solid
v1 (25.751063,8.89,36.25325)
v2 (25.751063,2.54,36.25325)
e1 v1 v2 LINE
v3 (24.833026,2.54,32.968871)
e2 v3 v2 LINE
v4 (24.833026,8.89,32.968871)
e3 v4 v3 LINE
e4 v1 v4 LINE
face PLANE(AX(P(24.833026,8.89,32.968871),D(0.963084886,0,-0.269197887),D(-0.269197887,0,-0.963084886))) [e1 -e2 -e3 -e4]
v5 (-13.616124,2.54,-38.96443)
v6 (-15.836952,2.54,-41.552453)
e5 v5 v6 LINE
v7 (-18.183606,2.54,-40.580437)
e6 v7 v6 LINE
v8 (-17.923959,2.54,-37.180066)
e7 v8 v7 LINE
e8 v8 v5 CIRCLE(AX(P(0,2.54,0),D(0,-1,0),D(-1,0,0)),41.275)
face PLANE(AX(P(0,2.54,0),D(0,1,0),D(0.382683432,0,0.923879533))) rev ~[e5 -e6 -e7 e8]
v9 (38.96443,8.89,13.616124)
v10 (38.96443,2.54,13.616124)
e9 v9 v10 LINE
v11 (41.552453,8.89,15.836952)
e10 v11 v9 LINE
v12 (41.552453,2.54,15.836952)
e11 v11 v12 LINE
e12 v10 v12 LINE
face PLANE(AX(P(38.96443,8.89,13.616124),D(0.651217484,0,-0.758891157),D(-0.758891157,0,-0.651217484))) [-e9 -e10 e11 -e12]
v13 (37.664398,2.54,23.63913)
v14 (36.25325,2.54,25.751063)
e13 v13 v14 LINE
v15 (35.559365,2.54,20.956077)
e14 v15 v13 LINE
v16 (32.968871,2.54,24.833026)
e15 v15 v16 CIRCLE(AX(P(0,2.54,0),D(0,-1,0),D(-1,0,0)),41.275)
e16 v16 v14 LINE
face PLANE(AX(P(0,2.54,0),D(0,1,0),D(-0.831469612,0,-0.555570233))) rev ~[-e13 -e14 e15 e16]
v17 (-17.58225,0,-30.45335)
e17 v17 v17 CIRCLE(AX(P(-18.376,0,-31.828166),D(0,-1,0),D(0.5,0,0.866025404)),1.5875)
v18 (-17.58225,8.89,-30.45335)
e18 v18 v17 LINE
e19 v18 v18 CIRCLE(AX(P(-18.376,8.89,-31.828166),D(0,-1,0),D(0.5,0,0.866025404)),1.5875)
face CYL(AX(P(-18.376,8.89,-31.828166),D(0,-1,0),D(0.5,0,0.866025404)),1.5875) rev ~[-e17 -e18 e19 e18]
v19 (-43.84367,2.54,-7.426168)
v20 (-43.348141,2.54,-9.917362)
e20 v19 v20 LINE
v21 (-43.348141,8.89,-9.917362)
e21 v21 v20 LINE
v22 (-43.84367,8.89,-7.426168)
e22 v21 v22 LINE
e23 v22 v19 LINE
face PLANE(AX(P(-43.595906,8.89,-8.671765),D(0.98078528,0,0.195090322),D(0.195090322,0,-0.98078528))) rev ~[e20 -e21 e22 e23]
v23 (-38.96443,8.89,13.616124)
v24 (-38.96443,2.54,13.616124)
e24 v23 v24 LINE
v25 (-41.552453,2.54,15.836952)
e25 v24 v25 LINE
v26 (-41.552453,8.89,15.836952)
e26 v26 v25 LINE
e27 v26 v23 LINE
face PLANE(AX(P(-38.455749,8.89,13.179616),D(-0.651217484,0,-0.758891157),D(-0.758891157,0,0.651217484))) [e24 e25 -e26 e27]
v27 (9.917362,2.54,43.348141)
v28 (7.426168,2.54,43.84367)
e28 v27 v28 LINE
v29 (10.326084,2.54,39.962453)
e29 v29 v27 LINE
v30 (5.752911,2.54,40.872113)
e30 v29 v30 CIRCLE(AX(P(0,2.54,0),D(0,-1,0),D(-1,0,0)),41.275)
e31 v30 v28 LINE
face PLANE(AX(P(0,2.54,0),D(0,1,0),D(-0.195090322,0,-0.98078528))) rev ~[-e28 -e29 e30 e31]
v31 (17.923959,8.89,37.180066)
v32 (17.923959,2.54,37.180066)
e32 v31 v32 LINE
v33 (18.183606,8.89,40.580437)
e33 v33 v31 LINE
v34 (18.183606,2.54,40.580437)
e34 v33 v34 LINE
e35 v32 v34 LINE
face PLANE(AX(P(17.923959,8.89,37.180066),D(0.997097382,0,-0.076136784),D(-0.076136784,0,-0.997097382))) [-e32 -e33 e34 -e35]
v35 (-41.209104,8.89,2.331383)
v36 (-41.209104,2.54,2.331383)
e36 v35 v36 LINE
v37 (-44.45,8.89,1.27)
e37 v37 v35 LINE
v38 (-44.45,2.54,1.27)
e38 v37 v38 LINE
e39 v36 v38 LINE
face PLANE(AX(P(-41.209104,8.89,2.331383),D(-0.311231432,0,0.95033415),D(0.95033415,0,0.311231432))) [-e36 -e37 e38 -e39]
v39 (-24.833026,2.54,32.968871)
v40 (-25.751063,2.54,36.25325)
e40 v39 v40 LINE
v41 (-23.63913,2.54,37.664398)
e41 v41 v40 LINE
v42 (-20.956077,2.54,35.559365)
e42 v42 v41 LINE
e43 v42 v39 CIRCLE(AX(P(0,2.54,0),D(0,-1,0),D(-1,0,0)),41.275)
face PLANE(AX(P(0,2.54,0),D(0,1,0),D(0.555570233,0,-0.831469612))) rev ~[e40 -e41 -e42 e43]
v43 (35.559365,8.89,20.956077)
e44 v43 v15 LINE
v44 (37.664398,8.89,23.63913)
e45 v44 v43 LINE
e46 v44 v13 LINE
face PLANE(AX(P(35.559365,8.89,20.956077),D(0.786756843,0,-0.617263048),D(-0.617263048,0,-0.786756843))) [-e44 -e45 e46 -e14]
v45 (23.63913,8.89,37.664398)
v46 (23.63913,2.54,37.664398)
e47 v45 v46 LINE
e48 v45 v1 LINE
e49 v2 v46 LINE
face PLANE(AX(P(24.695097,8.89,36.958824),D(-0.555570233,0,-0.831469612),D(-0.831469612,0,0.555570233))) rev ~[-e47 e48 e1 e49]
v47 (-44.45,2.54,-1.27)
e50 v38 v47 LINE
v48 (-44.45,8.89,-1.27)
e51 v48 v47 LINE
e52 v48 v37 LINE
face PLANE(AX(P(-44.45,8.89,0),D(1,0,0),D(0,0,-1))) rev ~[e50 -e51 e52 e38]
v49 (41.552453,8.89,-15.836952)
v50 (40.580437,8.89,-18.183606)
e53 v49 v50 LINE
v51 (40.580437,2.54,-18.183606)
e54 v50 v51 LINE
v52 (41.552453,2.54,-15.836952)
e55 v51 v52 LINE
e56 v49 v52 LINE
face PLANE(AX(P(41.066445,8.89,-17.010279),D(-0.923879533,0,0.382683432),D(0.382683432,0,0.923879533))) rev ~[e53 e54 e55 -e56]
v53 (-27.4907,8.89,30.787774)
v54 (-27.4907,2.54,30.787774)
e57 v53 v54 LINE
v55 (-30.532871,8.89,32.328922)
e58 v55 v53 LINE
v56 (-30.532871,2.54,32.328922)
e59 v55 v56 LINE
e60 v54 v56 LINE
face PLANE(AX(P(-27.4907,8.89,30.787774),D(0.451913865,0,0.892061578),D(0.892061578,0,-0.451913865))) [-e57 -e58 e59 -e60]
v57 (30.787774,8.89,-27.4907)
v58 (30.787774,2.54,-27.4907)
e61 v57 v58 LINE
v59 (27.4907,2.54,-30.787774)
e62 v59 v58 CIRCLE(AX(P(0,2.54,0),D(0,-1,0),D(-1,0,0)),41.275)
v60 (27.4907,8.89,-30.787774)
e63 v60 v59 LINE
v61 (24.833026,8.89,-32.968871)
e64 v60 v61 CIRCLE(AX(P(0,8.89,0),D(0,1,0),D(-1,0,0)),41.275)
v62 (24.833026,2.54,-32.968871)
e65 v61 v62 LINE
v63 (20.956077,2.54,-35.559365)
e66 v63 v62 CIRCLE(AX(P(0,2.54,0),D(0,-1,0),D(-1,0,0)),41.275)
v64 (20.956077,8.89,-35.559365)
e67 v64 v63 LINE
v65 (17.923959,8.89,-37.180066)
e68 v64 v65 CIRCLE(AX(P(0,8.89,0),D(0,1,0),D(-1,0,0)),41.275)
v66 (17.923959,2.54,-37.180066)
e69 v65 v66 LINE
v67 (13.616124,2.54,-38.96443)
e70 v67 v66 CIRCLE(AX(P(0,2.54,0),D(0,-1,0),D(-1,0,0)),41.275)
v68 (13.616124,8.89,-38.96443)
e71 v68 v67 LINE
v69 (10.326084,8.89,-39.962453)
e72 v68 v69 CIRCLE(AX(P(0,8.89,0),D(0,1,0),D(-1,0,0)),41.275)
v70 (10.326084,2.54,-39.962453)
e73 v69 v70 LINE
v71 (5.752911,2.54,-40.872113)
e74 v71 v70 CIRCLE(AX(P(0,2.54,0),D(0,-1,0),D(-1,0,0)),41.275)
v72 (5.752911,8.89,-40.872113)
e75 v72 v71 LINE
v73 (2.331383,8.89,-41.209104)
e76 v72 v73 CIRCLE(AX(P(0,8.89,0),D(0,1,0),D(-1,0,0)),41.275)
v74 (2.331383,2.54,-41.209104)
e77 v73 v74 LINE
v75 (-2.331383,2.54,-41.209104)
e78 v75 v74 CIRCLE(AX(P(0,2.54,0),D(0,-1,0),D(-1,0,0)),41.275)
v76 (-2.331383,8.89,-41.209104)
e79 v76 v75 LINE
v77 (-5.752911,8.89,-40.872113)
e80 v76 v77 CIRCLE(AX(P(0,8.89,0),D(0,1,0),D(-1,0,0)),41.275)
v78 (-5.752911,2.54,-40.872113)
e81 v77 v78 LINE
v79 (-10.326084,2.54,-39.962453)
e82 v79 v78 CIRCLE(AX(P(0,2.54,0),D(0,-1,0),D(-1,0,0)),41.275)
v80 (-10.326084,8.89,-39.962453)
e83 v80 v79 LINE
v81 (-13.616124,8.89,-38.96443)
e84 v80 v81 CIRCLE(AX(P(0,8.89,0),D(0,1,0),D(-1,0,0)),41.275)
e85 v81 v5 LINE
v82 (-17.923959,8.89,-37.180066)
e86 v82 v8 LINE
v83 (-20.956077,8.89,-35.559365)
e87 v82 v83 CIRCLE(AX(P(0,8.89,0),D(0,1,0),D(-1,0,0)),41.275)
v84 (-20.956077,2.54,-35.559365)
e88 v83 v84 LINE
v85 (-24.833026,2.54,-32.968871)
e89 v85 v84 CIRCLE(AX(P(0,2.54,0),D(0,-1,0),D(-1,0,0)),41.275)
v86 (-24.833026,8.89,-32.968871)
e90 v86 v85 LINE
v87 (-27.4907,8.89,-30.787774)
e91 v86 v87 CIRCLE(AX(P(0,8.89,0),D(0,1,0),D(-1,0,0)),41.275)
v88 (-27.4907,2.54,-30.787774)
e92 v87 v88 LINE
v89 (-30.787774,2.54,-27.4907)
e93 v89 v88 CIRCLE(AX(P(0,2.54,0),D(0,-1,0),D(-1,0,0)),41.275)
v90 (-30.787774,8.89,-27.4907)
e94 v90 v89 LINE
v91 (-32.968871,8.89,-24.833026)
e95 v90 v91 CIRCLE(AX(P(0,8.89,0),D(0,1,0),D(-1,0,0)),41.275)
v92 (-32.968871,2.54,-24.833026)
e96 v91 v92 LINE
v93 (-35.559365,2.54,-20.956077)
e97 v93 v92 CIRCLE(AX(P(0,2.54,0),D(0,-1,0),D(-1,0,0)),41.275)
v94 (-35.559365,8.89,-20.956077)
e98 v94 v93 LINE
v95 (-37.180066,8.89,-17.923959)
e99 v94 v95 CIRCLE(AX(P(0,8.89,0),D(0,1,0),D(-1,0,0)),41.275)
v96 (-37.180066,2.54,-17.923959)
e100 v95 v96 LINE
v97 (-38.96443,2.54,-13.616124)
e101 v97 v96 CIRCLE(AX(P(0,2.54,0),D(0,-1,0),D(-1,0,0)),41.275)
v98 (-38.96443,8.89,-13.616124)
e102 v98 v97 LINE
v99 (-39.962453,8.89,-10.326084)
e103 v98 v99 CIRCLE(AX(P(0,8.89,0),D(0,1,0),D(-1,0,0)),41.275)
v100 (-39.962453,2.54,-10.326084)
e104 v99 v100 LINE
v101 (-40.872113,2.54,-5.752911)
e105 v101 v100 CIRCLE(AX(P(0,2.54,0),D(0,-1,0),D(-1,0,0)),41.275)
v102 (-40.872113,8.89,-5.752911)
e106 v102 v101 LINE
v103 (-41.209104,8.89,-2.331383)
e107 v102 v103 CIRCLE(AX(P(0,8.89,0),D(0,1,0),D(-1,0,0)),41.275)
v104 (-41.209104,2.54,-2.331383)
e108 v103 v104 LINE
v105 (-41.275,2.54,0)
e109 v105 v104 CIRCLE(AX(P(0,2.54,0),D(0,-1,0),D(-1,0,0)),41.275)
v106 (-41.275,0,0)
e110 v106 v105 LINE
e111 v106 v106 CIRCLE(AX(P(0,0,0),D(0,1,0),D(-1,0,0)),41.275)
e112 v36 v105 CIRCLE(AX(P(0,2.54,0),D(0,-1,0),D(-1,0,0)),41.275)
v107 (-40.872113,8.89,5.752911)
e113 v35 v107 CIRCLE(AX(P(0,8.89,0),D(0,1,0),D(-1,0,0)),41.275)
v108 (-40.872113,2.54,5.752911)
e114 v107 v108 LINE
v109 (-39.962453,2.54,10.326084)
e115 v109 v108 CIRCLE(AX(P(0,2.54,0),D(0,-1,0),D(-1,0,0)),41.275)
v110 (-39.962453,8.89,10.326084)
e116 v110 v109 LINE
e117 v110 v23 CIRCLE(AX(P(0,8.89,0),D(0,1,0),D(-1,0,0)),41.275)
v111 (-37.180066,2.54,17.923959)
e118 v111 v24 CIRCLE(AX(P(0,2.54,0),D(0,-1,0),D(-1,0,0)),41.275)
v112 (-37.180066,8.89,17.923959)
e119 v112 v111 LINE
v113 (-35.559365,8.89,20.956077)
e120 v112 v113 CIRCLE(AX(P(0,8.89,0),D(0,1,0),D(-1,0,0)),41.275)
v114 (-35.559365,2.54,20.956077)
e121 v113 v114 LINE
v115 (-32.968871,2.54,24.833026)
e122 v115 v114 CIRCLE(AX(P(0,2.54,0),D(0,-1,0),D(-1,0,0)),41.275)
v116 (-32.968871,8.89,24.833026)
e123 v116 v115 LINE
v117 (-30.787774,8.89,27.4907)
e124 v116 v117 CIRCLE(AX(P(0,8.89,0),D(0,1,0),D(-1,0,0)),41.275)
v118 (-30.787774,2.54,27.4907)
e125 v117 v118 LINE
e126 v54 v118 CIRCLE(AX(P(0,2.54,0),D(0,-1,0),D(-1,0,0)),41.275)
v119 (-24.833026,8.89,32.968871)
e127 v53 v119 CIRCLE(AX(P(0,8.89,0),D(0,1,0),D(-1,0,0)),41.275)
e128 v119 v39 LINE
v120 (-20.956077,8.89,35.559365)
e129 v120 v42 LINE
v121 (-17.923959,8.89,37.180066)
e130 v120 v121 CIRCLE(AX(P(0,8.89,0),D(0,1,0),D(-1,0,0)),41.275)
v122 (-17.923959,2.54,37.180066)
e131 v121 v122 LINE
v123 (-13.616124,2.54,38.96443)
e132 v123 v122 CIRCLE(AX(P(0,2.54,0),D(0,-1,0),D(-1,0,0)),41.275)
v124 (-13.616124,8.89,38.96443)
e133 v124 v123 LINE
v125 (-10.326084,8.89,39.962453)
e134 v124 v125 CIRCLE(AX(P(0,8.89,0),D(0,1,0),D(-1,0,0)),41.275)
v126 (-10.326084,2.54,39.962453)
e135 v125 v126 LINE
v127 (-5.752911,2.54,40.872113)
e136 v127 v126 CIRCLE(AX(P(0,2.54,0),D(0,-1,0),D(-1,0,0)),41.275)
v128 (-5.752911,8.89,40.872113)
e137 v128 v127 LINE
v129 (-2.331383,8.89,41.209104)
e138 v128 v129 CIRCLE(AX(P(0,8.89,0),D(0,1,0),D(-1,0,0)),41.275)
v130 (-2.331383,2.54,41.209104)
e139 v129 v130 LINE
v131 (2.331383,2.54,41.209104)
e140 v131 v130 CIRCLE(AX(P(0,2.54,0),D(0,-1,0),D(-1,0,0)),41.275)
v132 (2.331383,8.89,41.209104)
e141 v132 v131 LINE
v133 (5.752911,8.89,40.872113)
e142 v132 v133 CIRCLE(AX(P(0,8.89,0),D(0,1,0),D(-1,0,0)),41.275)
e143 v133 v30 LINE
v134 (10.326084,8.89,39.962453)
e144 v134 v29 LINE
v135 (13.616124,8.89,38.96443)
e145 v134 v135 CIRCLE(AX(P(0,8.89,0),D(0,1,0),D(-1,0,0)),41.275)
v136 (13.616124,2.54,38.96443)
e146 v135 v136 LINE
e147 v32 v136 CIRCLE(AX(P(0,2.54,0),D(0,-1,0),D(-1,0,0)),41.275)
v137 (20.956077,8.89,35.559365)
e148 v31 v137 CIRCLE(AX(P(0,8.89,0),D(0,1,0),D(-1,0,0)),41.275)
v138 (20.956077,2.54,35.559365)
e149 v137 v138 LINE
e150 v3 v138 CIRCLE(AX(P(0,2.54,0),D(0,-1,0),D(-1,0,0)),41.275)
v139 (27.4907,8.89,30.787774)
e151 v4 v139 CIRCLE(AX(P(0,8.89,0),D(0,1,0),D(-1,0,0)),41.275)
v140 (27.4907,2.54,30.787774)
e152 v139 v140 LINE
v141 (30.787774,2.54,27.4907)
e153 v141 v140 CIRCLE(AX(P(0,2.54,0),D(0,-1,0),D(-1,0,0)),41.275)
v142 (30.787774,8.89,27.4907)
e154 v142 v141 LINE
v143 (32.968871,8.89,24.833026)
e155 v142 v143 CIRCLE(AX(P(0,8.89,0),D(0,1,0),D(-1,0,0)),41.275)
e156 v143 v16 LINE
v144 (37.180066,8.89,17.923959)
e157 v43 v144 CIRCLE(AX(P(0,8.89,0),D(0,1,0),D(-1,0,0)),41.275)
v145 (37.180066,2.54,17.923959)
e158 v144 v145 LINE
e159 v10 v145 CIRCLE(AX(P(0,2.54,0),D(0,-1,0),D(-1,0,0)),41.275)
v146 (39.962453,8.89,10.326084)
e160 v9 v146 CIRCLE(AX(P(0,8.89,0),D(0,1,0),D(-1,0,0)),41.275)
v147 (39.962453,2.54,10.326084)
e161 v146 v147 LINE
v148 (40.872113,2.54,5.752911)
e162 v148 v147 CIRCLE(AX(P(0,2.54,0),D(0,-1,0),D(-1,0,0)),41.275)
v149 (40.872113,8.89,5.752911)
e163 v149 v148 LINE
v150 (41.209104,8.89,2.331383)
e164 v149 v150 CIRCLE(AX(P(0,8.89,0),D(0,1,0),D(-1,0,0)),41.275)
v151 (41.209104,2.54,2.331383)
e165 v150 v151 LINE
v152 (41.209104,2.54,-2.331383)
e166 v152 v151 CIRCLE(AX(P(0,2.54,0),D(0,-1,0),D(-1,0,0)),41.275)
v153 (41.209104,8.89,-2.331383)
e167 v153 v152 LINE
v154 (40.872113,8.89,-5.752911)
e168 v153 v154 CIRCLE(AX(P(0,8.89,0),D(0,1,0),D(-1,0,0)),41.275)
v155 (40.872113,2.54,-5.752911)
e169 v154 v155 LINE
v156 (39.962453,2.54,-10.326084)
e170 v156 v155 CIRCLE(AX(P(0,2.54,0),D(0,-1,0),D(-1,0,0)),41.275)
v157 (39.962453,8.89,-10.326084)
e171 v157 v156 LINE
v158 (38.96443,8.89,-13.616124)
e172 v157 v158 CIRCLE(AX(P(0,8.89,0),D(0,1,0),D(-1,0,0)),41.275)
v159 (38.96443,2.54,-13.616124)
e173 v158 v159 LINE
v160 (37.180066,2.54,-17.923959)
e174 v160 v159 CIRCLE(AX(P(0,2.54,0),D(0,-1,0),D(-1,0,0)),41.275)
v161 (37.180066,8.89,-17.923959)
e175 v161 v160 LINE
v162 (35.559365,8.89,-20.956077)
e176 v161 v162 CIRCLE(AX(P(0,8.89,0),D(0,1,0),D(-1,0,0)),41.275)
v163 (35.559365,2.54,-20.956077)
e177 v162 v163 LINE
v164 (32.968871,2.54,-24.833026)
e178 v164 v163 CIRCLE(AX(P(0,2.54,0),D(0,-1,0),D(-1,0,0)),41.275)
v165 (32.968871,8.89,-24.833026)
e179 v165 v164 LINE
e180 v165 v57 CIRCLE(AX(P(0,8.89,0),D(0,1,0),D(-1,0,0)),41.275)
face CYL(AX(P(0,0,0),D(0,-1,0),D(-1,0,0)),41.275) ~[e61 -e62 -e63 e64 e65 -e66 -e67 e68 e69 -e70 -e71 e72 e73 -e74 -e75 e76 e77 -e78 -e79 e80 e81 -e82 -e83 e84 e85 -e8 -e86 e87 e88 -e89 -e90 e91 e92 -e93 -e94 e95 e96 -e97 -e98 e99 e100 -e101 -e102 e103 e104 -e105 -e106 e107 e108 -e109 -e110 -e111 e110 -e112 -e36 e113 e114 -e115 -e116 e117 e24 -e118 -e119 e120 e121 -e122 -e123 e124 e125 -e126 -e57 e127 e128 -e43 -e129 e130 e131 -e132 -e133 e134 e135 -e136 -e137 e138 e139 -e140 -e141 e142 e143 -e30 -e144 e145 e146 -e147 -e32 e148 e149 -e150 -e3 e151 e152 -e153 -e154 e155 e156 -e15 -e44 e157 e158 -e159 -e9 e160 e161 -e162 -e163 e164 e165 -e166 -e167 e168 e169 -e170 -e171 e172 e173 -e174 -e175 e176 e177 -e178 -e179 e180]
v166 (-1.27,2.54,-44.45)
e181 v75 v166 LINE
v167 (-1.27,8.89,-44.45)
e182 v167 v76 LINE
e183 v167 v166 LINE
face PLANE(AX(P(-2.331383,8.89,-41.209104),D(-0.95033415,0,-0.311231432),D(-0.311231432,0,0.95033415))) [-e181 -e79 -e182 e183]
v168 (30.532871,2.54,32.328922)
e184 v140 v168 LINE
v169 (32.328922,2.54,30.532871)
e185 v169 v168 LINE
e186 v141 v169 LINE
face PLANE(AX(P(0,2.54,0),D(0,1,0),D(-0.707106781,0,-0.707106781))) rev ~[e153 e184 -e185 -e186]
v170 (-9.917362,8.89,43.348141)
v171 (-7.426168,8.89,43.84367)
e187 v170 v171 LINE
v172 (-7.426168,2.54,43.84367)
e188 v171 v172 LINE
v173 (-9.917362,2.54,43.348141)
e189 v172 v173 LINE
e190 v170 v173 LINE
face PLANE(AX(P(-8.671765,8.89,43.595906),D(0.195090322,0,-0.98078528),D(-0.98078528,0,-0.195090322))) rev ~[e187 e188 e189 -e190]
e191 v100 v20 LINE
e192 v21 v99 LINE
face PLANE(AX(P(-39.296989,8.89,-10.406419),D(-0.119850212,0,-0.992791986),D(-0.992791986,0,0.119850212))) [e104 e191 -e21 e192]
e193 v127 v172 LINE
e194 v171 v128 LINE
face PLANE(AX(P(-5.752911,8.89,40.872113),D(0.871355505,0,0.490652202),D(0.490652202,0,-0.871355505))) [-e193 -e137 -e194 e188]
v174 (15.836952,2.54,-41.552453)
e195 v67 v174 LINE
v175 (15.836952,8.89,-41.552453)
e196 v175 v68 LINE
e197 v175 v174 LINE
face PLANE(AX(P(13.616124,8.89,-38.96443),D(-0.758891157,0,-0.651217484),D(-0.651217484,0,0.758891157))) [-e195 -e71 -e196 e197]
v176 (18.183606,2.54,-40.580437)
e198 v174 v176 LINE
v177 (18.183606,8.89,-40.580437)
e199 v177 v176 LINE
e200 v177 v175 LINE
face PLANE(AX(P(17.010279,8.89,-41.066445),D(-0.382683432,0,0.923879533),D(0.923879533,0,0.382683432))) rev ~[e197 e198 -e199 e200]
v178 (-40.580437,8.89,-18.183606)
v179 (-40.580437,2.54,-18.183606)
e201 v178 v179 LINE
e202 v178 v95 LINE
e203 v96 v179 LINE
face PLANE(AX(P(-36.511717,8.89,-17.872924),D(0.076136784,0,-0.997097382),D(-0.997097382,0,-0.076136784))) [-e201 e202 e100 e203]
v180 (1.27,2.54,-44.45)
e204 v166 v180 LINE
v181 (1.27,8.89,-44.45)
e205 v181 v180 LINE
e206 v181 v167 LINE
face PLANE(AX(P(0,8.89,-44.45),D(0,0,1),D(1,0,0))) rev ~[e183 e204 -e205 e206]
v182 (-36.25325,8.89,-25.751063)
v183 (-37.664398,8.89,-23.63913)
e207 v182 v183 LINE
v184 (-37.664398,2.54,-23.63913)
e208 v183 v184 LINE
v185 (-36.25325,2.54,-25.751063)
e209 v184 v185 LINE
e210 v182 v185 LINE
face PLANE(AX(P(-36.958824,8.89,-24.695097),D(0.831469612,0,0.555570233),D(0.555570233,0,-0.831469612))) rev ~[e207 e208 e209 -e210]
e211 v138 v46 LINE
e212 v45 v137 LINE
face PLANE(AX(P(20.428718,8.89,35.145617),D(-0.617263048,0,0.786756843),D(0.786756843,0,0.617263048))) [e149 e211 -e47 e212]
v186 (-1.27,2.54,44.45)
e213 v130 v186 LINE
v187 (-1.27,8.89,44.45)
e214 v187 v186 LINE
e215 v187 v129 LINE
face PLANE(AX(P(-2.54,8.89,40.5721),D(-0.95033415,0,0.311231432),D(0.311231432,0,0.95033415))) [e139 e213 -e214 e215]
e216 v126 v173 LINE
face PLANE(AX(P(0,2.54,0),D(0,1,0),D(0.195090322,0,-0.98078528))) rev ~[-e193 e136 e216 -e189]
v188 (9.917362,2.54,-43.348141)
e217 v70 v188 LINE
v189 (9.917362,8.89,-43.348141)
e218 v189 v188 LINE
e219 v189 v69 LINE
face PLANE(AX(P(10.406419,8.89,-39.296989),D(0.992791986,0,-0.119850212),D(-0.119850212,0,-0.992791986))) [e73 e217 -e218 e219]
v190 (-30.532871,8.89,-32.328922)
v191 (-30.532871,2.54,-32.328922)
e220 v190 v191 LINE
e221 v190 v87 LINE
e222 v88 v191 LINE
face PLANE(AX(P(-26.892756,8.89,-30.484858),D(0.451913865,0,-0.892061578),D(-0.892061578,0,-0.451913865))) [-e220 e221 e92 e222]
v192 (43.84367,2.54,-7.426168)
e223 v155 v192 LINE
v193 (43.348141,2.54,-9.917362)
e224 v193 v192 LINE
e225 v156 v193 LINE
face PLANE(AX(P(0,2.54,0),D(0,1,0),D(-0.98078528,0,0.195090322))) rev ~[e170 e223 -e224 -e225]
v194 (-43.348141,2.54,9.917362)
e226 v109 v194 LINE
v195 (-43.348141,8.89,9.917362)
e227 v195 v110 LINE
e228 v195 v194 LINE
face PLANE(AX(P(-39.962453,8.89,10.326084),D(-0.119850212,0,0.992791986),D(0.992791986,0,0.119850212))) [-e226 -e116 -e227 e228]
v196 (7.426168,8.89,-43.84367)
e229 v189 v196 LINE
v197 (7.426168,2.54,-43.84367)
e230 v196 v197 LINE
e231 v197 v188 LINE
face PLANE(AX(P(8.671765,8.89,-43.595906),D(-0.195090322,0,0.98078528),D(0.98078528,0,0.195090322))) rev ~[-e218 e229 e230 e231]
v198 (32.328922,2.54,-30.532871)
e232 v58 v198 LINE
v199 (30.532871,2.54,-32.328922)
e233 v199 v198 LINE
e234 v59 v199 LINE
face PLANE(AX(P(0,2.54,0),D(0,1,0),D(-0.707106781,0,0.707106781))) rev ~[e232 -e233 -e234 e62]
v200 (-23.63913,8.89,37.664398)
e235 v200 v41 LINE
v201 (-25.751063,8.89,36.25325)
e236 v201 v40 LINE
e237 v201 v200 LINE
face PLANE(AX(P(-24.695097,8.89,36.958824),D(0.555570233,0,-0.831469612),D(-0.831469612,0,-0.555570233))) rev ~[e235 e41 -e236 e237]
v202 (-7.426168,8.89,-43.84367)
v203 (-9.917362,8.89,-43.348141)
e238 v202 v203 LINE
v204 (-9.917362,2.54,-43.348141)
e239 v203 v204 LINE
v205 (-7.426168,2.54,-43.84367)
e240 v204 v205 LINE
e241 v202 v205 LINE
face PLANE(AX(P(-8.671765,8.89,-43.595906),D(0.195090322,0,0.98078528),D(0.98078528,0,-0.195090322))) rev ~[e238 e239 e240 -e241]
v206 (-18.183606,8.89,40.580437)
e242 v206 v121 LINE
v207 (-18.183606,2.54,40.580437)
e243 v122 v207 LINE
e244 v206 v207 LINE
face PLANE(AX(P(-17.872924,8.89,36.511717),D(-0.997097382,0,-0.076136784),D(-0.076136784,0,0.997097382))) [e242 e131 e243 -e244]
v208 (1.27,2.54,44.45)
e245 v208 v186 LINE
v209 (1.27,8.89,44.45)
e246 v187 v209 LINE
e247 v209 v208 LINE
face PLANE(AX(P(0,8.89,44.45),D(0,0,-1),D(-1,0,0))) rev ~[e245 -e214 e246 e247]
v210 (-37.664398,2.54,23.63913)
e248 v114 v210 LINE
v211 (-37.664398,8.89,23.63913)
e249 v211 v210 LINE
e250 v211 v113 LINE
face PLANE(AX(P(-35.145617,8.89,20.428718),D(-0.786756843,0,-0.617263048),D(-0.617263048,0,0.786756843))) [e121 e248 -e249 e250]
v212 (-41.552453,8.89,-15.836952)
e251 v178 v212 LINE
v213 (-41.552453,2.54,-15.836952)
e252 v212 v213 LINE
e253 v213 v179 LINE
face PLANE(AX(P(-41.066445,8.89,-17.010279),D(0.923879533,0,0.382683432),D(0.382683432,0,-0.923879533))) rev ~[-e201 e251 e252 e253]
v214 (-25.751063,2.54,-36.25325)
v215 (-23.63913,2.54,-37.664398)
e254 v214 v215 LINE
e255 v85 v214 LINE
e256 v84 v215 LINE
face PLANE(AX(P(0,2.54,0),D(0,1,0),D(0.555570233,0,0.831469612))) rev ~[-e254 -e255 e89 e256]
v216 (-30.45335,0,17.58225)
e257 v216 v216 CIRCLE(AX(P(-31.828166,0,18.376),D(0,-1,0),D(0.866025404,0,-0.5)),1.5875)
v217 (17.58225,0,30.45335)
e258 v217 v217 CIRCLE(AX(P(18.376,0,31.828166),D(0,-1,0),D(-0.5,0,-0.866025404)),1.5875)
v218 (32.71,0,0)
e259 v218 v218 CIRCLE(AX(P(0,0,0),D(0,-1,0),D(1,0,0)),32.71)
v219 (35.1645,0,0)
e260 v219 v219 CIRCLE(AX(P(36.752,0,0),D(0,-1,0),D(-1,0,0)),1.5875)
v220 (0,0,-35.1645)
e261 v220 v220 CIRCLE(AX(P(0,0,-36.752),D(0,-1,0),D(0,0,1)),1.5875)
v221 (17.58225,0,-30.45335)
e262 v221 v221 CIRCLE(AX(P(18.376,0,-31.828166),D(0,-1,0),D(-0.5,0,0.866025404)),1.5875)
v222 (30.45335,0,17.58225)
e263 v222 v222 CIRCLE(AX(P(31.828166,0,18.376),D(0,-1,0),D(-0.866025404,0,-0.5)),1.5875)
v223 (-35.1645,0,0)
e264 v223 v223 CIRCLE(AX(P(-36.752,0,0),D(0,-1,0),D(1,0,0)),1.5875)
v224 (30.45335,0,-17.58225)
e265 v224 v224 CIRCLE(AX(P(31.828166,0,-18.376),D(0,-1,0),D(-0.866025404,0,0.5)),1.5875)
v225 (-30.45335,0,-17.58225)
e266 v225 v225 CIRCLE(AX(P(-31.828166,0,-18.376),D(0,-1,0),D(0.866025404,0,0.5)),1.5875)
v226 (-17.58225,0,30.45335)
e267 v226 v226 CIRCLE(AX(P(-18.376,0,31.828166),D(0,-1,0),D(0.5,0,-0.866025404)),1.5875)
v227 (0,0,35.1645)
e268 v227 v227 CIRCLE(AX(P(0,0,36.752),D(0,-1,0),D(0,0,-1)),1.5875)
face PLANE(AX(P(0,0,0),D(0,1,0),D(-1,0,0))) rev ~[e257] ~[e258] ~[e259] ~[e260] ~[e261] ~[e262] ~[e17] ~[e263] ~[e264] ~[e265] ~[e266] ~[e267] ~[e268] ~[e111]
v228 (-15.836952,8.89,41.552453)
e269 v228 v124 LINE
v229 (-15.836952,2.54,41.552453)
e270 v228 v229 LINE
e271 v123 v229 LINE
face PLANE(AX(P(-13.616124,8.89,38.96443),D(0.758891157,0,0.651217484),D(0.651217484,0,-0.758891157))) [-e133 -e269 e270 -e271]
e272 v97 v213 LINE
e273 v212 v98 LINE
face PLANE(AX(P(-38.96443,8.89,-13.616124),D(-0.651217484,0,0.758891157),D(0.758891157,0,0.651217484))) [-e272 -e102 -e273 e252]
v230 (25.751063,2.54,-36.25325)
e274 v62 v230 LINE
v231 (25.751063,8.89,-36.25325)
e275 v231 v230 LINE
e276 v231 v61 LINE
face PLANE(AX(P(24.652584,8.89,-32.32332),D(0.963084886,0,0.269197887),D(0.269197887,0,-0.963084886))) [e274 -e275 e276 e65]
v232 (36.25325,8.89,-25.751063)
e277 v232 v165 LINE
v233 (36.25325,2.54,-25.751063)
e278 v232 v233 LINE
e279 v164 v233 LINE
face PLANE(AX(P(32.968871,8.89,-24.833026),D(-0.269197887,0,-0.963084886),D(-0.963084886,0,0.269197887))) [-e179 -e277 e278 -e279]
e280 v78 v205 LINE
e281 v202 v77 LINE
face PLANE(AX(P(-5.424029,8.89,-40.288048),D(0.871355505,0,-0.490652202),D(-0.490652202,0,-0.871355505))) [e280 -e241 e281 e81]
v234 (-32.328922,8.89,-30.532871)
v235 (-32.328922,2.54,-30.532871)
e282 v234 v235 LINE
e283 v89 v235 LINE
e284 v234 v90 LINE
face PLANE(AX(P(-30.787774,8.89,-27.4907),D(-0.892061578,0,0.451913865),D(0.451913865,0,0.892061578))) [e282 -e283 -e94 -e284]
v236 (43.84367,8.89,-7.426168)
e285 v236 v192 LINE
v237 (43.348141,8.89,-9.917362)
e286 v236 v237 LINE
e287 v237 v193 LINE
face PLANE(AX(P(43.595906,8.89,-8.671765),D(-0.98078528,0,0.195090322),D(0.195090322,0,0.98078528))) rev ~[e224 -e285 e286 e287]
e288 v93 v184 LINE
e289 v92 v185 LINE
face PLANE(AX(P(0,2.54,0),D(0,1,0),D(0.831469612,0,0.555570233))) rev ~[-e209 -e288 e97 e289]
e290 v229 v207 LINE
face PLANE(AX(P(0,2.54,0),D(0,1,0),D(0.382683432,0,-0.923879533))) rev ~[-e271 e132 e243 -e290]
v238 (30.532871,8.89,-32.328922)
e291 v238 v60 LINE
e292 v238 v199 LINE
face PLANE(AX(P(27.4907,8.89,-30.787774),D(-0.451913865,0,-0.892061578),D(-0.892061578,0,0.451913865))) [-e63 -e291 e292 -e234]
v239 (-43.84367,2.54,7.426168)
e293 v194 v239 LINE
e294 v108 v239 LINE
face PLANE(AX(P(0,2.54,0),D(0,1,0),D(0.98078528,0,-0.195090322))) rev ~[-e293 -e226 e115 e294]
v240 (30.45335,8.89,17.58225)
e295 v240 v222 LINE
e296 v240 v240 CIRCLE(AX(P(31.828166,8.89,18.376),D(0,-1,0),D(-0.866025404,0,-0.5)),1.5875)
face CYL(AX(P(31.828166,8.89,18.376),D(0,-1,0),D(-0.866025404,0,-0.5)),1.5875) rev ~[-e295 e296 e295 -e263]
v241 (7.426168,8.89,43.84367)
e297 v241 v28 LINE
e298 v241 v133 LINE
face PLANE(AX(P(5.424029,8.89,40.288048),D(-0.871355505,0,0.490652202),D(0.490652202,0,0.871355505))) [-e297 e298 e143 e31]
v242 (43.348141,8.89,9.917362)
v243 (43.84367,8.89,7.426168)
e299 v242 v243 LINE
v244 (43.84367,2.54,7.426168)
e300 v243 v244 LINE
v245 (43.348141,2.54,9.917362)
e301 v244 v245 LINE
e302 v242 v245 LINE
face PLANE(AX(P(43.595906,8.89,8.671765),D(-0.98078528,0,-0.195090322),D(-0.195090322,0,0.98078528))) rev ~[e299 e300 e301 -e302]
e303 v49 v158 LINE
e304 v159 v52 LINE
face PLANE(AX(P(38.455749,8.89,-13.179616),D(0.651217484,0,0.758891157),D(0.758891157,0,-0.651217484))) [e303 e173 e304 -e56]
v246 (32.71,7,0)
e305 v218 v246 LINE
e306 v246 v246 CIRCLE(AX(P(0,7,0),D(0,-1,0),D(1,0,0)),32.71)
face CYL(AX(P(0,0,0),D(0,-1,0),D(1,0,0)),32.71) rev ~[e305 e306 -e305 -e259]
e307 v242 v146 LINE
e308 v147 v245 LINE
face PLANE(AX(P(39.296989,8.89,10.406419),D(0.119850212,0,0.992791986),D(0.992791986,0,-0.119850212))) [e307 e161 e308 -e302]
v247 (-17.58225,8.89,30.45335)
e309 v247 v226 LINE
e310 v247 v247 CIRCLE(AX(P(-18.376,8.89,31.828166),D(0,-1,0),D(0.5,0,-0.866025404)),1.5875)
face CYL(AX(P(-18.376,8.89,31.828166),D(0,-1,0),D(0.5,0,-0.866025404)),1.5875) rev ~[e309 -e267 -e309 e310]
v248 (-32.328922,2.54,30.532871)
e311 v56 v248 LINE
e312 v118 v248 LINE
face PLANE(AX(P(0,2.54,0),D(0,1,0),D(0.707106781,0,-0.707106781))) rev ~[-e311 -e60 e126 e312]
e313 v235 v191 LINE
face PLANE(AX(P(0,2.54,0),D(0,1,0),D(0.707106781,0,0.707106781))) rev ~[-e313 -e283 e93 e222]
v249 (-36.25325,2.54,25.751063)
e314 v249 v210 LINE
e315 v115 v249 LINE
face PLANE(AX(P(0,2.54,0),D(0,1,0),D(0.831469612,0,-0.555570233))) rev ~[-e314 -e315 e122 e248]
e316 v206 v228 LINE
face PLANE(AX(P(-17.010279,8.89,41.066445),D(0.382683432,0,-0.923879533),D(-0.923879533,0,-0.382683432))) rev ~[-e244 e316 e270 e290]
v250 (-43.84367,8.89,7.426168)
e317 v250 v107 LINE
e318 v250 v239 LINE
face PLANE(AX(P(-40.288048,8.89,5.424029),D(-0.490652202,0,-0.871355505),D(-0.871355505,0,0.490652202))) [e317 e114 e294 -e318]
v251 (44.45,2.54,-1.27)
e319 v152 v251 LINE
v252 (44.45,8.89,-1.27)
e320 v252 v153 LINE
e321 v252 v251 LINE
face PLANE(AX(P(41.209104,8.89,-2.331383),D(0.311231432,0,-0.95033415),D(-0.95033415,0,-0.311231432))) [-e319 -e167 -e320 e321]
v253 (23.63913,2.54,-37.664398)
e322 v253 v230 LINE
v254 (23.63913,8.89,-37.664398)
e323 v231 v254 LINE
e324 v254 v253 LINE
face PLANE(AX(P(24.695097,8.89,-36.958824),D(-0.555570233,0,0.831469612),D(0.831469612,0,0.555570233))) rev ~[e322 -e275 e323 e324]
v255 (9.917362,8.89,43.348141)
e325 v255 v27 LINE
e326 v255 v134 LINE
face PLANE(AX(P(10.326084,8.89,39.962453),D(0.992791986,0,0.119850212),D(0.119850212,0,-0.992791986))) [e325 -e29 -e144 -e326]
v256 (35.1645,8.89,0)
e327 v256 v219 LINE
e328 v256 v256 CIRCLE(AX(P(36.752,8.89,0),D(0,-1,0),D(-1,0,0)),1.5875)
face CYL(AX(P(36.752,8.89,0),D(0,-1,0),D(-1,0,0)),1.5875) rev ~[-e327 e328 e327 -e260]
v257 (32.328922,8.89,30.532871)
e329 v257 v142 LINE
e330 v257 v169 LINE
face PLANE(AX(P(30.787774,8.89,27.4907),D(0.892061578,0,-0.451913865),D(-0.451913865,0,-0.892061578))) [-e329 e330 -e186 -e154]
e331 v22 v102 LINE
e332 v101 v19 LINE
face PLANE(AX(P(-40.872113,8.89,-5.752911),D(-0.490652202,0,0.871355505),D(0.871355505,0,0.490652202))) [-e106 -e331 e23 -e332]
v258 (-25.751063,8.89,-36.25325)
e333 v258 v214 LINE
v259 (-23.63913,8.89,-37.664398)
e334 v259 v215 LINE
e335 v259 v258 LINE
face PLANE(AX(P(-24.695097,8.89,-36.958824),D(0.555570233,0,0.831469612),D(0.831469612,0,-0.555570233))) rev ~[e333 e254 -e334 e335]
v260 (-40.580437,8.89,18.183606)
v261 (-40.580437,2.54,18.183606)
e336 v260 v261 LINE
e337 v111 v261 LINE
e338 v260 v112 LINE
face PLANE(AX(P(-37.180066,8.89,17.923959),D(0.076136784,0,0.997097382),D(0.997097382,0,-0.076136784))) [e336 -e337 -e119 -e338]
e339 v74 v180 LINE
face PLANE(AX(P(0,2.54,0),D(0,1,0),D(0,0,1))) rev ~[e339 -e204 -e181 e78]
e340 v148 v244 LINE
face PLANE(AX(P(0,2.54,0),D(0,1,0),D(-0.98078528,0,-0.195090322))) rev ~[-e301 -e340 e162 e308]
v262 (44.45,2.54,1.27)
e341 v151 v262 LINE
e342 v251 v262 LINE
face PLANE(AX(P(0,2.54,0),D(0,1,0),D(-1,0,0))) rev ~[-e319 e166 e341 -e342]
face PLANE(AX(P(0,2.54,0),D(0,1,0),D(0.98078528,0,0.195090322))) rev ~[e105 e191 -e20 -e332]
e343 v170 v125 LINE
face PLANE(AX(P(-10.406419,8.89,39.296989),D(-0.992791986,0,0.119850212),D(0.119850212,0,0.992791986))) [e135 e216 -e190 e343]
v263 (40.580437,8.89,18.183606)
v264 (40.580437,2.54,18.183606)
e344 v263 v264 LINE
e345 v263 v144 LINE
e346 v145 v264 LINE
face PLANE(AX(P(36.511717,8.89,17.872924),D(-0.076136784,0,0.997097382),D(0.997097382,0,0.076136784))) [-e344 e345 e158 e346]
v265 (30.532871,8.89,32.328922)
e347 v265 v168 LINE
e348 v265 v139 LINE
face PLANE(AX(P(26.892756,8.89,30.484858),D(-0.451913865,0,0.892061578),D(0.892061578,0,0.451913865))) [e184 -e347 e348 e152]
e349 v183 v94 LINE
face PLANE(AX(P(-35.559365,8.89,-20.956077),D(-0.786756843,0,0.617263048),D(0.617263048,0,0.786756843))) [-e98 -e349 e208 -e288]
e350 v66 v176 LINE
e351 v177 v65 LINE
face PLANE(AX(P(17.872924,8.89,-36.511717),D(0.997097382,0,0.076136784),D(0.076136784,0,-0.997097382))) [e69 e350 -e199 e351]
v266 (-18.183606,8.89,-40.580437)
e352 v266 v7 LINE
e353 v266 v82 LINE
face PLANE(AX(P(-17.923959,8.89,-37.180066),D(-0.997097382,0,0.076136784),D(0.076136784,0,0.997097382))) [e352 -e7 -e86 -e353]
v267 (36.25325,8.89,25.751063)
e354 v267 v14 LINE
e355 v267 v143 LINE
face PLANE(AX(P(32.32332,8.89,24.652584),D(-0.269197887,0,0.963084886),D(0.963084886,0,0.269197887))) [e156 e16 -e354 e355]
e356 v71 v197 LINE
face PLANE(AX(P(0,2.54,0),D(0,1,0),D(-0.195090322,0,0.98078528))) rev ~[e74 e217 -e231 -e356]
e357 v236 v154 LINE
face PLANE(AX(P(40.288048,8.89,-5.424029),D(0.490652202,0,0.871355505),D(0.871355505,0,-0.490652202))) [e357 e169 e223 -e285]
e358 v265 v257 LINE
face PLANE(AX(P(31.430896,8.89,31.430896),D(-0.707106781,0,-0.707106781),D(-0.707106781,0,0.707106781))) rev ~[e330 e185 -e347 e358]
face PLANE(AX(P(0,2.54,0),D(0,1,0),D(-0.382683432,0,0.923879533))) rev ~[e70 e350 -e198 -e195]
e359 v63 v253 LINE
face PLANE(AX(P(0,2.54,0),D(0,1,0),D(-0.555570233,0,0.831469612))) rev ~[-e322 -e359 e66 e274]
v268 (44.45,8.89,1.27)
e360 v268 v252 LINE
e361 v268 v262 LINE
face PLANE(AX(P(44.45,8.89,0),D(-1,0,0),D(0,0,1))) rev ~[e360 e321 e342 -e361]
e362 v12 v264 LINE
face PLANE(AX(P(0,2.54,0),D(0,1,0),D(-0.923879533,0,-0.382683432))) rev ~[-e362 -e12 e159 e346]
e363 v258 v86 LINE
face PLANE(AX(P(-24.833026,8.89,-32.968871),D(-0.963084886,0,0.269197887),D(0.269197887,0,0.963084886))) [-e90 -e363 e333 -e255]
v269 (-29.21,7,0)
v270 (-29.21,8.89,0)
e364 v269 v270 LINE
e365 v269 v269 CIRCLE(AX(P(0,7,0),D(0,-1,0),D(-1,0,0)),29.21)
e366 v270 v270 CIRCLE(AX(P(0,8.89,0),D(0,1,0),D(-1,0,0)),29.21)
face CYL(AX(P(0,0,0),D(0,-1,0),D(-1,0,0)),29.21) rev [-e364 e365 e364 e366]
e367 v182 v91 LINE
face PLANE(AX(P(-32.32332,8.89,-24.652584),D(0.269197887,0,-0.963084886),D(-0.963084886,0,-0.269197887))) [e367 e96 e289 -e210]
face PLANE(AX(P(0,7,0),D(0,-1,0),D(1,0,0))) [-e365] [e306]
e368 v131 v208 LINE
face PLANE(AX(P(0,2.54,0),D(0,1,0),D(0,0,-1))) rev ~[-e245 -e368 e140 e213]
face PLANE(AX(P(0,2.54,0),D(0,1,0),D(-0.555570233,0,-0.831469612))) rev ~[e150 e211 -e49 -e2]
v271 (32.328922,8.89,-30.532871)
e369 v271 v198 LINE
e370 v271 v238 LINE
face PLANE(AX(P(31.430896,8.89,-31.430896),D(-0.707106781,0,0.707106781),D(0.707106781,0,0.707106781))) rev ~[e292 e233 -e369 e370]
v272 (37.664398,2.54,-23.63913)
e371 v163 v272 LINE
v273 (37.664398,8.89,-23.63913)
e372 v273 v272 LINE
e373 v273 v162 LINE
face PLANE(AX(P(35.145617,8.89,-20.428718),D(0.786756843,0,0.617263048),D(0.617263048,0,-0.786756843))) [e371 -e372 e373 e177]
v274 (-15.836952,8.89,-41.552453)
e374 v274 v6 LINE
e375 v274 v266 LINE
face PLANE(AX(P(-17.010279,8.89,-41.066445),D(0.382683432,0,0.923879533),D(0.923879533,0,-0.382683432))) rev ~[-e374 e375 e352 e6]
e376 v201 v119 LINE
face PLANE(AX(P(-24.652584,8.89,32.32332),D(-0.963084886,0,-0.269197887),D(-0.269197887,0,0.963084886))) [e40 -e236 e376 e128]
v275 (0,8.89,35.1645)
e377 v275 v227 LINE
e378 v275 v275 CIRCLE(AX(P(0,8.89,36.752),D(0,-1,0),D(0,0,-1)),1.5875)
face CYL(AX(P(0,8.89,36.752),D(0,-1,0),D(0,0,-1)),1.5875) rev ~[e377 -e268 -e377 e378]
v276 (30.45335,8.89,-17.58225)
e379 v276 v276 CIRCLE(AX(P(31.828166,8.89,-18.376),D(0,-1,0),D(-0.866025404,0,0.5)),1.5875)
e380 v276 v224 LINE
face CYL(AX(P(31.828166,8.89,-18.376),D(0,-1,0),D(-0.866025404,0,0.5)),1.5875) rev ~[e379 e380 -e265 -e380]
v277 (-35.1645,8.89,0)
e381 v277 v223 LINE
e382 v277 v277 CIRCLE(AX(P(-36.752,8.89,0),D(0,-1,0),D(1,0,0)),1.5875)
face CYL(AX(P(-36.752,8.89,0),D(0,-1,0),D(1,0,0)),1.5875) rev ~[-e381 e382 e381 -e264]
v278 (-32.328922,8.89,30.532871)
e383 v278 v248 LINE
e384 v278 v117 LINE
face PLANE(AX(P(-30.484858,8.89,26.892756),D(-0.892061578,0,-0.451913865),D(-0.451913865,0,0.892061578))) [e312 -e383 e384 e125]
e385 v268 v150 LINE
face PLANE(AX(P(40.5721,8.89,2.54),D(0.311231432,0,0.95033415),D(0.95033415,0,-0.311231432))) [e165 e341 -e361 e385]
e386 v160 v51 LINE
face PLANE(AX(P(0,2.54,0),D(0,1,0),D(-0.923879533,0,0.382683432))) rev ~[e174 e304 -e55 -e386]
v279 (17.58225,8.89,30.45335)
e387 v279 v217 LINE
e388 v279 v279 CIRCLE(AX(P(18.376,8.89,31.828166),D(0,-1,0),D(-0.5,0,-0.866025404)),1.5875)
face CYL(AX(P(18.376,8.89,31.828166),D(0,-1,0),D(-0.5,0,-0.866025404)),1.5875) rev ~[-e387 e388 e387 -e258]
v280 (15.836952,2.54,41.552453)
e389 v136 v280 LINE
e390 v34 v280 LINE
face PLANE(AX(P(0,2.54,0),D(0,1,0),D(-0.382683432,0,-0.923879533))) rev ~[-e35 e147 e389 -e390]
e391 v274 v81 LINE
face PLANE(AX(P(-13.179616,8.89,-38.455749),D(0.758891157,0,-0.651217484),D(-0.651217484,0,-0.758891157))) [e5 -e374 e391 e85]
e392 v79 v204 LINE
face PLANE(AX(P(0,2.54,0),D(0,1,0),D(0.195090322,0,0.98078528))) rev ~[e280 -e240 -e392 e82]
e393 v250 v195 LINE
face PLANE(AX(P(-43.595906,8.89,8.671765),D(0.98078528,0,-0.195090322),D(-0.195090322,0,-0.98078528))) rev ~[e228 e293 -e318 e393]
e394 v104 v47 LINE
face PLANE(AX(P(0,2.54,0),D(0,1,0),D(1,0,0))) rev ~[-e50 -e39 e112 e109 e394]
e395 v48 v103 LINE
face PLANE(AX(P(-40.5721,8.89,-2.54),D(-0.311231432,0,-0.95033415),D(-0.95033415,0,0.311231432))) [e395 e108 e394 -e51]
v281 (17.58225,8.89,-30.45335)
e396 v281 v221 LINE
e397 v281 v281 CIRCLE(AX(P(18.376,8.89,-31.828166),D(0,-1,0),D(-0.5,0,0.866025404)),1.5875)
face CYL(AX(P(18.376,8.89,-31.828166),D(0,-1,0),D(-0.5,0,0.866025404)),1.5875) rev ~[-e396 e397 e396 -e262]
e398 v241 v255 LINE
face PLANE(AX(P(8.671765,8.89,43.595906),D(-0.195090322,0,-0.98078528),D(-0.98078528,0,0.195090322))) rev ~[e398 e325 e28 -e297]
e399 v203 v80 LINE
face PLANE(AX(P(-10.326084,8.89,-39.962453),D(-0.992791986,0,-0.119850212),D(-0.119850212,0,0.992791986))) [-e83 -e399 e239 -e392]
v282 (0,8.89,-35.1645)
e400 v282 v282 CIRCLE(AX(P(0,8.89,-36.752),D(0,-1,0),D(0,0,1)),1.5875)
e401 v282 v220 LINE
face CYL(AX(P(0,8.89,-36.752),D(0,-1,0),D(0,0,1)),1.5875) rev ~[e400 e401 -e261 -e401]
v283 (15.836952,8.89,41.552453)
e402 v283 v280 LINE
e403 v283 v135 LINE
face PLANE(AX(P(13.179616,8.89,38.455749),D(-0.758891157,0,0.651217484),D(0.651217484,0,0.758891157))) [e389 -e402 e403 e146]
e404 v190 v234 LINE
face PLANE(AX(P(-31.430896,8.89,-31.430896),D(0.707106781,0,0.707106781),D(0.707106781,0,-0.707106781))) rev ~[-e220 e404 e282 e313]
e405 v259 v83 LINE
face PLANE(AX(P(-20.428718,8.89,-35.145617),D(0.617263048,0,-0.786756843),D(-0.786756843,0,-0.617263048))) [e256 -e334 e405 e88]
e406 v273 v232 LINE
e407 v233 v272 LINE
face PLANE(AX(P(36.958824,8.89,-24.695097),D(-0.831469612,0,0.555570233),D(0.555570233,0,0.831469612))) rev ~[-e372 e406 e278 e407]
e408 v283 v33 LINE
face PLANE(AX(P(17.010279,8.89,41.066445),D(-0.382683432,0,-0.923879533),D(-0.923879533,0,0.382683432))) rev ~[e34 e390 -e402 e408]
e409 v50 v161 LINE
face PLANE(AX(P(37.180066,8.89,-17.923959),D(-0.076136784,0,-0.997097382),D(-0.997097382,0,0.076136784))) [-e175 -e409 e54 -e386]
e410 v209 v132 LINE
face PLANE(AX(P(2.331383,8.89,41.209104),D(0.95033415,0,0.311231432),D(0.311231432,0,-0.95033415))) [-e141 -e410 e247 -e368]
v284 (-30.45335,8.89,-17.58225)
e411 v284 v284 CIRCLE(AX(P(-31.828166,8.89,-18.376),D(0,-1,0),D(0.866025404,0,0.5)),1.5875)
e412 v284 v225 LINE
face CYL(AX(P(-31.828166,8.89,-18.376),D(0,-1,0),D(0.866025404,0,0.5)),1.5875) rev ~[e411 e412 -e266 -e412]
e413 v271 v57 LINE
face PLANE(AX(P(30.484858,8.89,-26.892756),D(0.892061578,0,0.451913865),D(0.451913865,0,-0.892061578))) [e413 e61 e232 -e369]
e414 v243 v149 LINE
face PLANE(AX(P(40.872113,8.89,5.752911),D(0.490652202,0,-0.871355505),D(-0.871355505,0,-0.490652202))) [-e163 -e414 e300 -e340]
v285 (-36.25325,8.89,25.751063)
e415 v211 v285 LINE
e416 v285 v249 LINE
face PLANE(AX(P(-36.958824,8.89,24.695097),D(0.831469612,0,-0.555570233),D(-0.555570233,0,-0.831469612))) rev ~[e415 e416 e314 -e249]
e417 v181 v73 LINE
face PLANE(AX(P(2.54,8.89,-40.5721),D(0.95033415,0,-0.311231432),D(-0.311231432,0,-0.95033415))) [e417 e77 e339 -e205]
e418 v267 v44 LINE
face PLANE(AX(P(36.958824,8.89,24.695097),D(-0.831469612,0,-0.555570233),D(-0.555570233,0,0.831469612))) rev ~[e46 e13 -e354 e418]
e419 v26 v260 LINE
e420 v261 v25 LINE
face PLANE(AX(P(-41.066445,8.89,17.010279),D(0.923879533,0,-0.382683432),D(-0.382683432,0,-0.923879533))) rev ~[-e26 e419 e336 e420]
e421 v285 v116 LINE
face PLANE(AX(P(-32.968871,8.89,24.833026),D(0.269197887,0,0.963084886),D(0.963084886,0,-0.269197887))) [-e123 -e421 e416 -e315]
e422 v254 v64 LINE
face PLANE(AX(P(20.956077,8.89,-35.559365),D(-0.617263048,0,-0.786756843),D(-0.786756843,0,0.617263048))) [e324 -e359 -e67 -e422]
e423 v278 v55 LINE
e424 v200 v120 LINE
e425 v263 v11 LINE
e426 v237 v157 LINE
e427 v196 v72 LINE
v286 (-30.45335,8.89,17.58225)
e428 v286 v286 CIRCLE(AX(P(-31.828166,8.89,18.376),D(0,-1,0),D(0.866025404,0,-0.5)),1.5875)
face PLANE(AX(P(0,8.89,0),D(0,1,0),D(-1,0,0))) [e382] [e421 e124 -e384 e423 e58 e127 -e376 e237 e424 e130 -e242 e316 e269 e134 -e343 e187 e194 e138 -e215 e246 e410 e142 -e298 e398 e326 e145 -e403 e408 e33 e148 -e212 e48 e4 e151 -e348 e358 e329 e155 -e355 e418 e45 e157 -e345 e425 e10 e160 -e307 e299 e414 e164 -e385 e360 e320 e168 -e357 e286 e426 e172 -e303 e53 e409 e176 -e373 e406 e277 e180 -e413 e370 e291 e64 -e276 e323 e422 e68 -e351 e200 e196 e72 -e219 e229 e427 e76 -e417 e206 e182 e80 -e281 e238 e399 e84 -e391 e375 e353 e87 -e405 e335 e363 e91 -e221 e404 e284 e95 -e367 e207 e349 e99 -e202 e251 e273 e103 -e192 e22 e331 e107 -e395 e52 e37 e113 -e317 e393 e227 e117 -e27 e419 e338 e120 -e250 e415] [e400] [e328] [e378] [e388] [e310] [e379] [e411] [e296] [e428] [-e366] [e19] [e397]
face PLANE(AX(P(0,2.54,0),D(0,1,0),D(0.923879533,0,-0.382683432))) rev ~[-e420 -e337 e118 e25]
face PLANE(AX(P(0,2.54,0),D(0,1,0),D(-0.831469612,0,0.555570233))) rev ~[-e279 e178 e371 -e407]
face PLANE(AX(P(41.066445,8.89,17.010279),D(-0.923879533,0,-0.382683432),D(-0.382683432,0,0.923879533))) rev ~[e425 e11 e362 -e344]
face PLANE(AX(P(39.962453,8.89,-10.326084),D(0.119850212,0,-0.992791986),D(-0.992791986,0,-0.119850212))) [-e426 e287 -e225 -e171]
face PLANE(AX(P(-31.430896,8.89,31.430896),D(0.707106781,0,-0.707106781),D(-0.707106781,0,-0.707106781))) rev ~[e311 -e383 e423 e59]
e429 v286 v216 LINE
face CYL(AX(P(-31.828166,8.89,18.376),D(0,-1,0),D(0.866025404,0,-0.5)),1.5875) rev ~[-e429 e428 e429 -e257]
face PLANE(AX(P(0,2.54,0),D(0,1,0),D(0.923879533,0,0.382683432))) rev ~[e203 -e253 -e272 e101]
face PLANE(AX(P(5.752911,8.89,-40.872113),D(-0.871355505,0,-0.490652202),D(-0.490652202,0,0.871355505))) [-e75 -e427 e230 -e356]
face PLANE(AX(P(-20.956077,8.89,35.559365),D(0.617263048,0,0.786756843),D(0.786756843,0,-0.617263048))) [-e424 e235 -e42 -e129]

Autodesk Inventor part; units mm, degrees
ref_plane "YZ Plane" through (0, 0, 0) normal (1, 0, 0) x (0, 1, 0)
ref_plane "XZ Plane" through (0, 0, 0) normal (0, 1, 0) x (-1, 0, 0)
ref_plane "XY Plane" through (0, 0, 0) normal (0, 0, 1) x (1, 0, 0)
sketch "Sketch1" plane through (0, 0, 0) normal (0, 1, 0) x (-1, 0, 0)
  circle A0 centre (0, 0) radius 29.21
  circle A1 centre (0, 0) radius 41.275
  dimension "d0" = 58.42
  dimension "d1" = 82.55
extrude "Extrusion1" add sketch "Sketch1" along normal blind 8.89
sketch "Sketch2" plane through (0, 8.89, 0) normal (0, 1, 0) x (1, 0, 0)
  circle A0 centre (0, 0) radius 29.21 projected
  circle A1 centre (0, 0) radius 41.275 projected
  circle A2 centre (0, 0) radius 41.275 projected
  line L0 (-41.275, 0) -> (-44.45, 0)
  line L1 (-44.45, 0) -> (-44.45, 1.27)
  line L2 (-41.275, 0) -> (-40.5721, 0)
  line L3 (-40.5721, 0) -> (-40.5721, 2.54)
  line L4 (-40.5721, 2.54) -> (-44.45, 1.27)
  line L5 (-40.5721, 0) -> (-40.5721, -2.54)
  line L6 (-44.45, 0) -> (-44.45, -1.27)
  line L7 (-44.45, -1.27) -> (-40.5721, -2.54)
  dimension "d4" = 3.175
  dimension "d5" = 1.27
  dimension "d6" = 2.54
  dimension "d7" = 2.54
  dimension "d8" = 1.27
extrude "Extrusion2" add sketch "Sketch2" against normal blind 6.35 contours L4 L3 L2 A1 | A1 L0 L1 L4 | L7 L6 L0 A1 | A1 L2 L5 L7
pattern_circular "Circular Pattern1" count 32 over 360 about axis through (0, 0, 0) along (0, 1, 0) of "Extrusion2"
sketch "Sketch3" plane through (0, 8.89, 0) normal (0, 1, 0) x (1, 0, 0)
  line L0 (-1.27, 44.45) -> (1.27, 44.45) projected
  line L1 (0, 44.45) -> (0, 29.21)
  circle A0 centre (0, 0) radius 29.21 projected
  point P0 (0, 36.752)
hole "Hole1" at (0, 8.89, -36.752) direction (0, -1, 0) diameter 3.175 end through all
pattern_circular "Circular Pattern2" count 12 over 360 about axis through (0, 0, 0) along (0, 1, 0) of "Hole1"
sketch "Sketch4" plane through (0, 0, 0) normal (0, -1, 0) x (1, 0, 0)
  circle A0 centre (0, 0) radius 32.71
  dimension "d24" = 65.42
extrude "Extrusion3" cut sketch "Sketch4" against normal blind 7
properties part number "tableGear"
